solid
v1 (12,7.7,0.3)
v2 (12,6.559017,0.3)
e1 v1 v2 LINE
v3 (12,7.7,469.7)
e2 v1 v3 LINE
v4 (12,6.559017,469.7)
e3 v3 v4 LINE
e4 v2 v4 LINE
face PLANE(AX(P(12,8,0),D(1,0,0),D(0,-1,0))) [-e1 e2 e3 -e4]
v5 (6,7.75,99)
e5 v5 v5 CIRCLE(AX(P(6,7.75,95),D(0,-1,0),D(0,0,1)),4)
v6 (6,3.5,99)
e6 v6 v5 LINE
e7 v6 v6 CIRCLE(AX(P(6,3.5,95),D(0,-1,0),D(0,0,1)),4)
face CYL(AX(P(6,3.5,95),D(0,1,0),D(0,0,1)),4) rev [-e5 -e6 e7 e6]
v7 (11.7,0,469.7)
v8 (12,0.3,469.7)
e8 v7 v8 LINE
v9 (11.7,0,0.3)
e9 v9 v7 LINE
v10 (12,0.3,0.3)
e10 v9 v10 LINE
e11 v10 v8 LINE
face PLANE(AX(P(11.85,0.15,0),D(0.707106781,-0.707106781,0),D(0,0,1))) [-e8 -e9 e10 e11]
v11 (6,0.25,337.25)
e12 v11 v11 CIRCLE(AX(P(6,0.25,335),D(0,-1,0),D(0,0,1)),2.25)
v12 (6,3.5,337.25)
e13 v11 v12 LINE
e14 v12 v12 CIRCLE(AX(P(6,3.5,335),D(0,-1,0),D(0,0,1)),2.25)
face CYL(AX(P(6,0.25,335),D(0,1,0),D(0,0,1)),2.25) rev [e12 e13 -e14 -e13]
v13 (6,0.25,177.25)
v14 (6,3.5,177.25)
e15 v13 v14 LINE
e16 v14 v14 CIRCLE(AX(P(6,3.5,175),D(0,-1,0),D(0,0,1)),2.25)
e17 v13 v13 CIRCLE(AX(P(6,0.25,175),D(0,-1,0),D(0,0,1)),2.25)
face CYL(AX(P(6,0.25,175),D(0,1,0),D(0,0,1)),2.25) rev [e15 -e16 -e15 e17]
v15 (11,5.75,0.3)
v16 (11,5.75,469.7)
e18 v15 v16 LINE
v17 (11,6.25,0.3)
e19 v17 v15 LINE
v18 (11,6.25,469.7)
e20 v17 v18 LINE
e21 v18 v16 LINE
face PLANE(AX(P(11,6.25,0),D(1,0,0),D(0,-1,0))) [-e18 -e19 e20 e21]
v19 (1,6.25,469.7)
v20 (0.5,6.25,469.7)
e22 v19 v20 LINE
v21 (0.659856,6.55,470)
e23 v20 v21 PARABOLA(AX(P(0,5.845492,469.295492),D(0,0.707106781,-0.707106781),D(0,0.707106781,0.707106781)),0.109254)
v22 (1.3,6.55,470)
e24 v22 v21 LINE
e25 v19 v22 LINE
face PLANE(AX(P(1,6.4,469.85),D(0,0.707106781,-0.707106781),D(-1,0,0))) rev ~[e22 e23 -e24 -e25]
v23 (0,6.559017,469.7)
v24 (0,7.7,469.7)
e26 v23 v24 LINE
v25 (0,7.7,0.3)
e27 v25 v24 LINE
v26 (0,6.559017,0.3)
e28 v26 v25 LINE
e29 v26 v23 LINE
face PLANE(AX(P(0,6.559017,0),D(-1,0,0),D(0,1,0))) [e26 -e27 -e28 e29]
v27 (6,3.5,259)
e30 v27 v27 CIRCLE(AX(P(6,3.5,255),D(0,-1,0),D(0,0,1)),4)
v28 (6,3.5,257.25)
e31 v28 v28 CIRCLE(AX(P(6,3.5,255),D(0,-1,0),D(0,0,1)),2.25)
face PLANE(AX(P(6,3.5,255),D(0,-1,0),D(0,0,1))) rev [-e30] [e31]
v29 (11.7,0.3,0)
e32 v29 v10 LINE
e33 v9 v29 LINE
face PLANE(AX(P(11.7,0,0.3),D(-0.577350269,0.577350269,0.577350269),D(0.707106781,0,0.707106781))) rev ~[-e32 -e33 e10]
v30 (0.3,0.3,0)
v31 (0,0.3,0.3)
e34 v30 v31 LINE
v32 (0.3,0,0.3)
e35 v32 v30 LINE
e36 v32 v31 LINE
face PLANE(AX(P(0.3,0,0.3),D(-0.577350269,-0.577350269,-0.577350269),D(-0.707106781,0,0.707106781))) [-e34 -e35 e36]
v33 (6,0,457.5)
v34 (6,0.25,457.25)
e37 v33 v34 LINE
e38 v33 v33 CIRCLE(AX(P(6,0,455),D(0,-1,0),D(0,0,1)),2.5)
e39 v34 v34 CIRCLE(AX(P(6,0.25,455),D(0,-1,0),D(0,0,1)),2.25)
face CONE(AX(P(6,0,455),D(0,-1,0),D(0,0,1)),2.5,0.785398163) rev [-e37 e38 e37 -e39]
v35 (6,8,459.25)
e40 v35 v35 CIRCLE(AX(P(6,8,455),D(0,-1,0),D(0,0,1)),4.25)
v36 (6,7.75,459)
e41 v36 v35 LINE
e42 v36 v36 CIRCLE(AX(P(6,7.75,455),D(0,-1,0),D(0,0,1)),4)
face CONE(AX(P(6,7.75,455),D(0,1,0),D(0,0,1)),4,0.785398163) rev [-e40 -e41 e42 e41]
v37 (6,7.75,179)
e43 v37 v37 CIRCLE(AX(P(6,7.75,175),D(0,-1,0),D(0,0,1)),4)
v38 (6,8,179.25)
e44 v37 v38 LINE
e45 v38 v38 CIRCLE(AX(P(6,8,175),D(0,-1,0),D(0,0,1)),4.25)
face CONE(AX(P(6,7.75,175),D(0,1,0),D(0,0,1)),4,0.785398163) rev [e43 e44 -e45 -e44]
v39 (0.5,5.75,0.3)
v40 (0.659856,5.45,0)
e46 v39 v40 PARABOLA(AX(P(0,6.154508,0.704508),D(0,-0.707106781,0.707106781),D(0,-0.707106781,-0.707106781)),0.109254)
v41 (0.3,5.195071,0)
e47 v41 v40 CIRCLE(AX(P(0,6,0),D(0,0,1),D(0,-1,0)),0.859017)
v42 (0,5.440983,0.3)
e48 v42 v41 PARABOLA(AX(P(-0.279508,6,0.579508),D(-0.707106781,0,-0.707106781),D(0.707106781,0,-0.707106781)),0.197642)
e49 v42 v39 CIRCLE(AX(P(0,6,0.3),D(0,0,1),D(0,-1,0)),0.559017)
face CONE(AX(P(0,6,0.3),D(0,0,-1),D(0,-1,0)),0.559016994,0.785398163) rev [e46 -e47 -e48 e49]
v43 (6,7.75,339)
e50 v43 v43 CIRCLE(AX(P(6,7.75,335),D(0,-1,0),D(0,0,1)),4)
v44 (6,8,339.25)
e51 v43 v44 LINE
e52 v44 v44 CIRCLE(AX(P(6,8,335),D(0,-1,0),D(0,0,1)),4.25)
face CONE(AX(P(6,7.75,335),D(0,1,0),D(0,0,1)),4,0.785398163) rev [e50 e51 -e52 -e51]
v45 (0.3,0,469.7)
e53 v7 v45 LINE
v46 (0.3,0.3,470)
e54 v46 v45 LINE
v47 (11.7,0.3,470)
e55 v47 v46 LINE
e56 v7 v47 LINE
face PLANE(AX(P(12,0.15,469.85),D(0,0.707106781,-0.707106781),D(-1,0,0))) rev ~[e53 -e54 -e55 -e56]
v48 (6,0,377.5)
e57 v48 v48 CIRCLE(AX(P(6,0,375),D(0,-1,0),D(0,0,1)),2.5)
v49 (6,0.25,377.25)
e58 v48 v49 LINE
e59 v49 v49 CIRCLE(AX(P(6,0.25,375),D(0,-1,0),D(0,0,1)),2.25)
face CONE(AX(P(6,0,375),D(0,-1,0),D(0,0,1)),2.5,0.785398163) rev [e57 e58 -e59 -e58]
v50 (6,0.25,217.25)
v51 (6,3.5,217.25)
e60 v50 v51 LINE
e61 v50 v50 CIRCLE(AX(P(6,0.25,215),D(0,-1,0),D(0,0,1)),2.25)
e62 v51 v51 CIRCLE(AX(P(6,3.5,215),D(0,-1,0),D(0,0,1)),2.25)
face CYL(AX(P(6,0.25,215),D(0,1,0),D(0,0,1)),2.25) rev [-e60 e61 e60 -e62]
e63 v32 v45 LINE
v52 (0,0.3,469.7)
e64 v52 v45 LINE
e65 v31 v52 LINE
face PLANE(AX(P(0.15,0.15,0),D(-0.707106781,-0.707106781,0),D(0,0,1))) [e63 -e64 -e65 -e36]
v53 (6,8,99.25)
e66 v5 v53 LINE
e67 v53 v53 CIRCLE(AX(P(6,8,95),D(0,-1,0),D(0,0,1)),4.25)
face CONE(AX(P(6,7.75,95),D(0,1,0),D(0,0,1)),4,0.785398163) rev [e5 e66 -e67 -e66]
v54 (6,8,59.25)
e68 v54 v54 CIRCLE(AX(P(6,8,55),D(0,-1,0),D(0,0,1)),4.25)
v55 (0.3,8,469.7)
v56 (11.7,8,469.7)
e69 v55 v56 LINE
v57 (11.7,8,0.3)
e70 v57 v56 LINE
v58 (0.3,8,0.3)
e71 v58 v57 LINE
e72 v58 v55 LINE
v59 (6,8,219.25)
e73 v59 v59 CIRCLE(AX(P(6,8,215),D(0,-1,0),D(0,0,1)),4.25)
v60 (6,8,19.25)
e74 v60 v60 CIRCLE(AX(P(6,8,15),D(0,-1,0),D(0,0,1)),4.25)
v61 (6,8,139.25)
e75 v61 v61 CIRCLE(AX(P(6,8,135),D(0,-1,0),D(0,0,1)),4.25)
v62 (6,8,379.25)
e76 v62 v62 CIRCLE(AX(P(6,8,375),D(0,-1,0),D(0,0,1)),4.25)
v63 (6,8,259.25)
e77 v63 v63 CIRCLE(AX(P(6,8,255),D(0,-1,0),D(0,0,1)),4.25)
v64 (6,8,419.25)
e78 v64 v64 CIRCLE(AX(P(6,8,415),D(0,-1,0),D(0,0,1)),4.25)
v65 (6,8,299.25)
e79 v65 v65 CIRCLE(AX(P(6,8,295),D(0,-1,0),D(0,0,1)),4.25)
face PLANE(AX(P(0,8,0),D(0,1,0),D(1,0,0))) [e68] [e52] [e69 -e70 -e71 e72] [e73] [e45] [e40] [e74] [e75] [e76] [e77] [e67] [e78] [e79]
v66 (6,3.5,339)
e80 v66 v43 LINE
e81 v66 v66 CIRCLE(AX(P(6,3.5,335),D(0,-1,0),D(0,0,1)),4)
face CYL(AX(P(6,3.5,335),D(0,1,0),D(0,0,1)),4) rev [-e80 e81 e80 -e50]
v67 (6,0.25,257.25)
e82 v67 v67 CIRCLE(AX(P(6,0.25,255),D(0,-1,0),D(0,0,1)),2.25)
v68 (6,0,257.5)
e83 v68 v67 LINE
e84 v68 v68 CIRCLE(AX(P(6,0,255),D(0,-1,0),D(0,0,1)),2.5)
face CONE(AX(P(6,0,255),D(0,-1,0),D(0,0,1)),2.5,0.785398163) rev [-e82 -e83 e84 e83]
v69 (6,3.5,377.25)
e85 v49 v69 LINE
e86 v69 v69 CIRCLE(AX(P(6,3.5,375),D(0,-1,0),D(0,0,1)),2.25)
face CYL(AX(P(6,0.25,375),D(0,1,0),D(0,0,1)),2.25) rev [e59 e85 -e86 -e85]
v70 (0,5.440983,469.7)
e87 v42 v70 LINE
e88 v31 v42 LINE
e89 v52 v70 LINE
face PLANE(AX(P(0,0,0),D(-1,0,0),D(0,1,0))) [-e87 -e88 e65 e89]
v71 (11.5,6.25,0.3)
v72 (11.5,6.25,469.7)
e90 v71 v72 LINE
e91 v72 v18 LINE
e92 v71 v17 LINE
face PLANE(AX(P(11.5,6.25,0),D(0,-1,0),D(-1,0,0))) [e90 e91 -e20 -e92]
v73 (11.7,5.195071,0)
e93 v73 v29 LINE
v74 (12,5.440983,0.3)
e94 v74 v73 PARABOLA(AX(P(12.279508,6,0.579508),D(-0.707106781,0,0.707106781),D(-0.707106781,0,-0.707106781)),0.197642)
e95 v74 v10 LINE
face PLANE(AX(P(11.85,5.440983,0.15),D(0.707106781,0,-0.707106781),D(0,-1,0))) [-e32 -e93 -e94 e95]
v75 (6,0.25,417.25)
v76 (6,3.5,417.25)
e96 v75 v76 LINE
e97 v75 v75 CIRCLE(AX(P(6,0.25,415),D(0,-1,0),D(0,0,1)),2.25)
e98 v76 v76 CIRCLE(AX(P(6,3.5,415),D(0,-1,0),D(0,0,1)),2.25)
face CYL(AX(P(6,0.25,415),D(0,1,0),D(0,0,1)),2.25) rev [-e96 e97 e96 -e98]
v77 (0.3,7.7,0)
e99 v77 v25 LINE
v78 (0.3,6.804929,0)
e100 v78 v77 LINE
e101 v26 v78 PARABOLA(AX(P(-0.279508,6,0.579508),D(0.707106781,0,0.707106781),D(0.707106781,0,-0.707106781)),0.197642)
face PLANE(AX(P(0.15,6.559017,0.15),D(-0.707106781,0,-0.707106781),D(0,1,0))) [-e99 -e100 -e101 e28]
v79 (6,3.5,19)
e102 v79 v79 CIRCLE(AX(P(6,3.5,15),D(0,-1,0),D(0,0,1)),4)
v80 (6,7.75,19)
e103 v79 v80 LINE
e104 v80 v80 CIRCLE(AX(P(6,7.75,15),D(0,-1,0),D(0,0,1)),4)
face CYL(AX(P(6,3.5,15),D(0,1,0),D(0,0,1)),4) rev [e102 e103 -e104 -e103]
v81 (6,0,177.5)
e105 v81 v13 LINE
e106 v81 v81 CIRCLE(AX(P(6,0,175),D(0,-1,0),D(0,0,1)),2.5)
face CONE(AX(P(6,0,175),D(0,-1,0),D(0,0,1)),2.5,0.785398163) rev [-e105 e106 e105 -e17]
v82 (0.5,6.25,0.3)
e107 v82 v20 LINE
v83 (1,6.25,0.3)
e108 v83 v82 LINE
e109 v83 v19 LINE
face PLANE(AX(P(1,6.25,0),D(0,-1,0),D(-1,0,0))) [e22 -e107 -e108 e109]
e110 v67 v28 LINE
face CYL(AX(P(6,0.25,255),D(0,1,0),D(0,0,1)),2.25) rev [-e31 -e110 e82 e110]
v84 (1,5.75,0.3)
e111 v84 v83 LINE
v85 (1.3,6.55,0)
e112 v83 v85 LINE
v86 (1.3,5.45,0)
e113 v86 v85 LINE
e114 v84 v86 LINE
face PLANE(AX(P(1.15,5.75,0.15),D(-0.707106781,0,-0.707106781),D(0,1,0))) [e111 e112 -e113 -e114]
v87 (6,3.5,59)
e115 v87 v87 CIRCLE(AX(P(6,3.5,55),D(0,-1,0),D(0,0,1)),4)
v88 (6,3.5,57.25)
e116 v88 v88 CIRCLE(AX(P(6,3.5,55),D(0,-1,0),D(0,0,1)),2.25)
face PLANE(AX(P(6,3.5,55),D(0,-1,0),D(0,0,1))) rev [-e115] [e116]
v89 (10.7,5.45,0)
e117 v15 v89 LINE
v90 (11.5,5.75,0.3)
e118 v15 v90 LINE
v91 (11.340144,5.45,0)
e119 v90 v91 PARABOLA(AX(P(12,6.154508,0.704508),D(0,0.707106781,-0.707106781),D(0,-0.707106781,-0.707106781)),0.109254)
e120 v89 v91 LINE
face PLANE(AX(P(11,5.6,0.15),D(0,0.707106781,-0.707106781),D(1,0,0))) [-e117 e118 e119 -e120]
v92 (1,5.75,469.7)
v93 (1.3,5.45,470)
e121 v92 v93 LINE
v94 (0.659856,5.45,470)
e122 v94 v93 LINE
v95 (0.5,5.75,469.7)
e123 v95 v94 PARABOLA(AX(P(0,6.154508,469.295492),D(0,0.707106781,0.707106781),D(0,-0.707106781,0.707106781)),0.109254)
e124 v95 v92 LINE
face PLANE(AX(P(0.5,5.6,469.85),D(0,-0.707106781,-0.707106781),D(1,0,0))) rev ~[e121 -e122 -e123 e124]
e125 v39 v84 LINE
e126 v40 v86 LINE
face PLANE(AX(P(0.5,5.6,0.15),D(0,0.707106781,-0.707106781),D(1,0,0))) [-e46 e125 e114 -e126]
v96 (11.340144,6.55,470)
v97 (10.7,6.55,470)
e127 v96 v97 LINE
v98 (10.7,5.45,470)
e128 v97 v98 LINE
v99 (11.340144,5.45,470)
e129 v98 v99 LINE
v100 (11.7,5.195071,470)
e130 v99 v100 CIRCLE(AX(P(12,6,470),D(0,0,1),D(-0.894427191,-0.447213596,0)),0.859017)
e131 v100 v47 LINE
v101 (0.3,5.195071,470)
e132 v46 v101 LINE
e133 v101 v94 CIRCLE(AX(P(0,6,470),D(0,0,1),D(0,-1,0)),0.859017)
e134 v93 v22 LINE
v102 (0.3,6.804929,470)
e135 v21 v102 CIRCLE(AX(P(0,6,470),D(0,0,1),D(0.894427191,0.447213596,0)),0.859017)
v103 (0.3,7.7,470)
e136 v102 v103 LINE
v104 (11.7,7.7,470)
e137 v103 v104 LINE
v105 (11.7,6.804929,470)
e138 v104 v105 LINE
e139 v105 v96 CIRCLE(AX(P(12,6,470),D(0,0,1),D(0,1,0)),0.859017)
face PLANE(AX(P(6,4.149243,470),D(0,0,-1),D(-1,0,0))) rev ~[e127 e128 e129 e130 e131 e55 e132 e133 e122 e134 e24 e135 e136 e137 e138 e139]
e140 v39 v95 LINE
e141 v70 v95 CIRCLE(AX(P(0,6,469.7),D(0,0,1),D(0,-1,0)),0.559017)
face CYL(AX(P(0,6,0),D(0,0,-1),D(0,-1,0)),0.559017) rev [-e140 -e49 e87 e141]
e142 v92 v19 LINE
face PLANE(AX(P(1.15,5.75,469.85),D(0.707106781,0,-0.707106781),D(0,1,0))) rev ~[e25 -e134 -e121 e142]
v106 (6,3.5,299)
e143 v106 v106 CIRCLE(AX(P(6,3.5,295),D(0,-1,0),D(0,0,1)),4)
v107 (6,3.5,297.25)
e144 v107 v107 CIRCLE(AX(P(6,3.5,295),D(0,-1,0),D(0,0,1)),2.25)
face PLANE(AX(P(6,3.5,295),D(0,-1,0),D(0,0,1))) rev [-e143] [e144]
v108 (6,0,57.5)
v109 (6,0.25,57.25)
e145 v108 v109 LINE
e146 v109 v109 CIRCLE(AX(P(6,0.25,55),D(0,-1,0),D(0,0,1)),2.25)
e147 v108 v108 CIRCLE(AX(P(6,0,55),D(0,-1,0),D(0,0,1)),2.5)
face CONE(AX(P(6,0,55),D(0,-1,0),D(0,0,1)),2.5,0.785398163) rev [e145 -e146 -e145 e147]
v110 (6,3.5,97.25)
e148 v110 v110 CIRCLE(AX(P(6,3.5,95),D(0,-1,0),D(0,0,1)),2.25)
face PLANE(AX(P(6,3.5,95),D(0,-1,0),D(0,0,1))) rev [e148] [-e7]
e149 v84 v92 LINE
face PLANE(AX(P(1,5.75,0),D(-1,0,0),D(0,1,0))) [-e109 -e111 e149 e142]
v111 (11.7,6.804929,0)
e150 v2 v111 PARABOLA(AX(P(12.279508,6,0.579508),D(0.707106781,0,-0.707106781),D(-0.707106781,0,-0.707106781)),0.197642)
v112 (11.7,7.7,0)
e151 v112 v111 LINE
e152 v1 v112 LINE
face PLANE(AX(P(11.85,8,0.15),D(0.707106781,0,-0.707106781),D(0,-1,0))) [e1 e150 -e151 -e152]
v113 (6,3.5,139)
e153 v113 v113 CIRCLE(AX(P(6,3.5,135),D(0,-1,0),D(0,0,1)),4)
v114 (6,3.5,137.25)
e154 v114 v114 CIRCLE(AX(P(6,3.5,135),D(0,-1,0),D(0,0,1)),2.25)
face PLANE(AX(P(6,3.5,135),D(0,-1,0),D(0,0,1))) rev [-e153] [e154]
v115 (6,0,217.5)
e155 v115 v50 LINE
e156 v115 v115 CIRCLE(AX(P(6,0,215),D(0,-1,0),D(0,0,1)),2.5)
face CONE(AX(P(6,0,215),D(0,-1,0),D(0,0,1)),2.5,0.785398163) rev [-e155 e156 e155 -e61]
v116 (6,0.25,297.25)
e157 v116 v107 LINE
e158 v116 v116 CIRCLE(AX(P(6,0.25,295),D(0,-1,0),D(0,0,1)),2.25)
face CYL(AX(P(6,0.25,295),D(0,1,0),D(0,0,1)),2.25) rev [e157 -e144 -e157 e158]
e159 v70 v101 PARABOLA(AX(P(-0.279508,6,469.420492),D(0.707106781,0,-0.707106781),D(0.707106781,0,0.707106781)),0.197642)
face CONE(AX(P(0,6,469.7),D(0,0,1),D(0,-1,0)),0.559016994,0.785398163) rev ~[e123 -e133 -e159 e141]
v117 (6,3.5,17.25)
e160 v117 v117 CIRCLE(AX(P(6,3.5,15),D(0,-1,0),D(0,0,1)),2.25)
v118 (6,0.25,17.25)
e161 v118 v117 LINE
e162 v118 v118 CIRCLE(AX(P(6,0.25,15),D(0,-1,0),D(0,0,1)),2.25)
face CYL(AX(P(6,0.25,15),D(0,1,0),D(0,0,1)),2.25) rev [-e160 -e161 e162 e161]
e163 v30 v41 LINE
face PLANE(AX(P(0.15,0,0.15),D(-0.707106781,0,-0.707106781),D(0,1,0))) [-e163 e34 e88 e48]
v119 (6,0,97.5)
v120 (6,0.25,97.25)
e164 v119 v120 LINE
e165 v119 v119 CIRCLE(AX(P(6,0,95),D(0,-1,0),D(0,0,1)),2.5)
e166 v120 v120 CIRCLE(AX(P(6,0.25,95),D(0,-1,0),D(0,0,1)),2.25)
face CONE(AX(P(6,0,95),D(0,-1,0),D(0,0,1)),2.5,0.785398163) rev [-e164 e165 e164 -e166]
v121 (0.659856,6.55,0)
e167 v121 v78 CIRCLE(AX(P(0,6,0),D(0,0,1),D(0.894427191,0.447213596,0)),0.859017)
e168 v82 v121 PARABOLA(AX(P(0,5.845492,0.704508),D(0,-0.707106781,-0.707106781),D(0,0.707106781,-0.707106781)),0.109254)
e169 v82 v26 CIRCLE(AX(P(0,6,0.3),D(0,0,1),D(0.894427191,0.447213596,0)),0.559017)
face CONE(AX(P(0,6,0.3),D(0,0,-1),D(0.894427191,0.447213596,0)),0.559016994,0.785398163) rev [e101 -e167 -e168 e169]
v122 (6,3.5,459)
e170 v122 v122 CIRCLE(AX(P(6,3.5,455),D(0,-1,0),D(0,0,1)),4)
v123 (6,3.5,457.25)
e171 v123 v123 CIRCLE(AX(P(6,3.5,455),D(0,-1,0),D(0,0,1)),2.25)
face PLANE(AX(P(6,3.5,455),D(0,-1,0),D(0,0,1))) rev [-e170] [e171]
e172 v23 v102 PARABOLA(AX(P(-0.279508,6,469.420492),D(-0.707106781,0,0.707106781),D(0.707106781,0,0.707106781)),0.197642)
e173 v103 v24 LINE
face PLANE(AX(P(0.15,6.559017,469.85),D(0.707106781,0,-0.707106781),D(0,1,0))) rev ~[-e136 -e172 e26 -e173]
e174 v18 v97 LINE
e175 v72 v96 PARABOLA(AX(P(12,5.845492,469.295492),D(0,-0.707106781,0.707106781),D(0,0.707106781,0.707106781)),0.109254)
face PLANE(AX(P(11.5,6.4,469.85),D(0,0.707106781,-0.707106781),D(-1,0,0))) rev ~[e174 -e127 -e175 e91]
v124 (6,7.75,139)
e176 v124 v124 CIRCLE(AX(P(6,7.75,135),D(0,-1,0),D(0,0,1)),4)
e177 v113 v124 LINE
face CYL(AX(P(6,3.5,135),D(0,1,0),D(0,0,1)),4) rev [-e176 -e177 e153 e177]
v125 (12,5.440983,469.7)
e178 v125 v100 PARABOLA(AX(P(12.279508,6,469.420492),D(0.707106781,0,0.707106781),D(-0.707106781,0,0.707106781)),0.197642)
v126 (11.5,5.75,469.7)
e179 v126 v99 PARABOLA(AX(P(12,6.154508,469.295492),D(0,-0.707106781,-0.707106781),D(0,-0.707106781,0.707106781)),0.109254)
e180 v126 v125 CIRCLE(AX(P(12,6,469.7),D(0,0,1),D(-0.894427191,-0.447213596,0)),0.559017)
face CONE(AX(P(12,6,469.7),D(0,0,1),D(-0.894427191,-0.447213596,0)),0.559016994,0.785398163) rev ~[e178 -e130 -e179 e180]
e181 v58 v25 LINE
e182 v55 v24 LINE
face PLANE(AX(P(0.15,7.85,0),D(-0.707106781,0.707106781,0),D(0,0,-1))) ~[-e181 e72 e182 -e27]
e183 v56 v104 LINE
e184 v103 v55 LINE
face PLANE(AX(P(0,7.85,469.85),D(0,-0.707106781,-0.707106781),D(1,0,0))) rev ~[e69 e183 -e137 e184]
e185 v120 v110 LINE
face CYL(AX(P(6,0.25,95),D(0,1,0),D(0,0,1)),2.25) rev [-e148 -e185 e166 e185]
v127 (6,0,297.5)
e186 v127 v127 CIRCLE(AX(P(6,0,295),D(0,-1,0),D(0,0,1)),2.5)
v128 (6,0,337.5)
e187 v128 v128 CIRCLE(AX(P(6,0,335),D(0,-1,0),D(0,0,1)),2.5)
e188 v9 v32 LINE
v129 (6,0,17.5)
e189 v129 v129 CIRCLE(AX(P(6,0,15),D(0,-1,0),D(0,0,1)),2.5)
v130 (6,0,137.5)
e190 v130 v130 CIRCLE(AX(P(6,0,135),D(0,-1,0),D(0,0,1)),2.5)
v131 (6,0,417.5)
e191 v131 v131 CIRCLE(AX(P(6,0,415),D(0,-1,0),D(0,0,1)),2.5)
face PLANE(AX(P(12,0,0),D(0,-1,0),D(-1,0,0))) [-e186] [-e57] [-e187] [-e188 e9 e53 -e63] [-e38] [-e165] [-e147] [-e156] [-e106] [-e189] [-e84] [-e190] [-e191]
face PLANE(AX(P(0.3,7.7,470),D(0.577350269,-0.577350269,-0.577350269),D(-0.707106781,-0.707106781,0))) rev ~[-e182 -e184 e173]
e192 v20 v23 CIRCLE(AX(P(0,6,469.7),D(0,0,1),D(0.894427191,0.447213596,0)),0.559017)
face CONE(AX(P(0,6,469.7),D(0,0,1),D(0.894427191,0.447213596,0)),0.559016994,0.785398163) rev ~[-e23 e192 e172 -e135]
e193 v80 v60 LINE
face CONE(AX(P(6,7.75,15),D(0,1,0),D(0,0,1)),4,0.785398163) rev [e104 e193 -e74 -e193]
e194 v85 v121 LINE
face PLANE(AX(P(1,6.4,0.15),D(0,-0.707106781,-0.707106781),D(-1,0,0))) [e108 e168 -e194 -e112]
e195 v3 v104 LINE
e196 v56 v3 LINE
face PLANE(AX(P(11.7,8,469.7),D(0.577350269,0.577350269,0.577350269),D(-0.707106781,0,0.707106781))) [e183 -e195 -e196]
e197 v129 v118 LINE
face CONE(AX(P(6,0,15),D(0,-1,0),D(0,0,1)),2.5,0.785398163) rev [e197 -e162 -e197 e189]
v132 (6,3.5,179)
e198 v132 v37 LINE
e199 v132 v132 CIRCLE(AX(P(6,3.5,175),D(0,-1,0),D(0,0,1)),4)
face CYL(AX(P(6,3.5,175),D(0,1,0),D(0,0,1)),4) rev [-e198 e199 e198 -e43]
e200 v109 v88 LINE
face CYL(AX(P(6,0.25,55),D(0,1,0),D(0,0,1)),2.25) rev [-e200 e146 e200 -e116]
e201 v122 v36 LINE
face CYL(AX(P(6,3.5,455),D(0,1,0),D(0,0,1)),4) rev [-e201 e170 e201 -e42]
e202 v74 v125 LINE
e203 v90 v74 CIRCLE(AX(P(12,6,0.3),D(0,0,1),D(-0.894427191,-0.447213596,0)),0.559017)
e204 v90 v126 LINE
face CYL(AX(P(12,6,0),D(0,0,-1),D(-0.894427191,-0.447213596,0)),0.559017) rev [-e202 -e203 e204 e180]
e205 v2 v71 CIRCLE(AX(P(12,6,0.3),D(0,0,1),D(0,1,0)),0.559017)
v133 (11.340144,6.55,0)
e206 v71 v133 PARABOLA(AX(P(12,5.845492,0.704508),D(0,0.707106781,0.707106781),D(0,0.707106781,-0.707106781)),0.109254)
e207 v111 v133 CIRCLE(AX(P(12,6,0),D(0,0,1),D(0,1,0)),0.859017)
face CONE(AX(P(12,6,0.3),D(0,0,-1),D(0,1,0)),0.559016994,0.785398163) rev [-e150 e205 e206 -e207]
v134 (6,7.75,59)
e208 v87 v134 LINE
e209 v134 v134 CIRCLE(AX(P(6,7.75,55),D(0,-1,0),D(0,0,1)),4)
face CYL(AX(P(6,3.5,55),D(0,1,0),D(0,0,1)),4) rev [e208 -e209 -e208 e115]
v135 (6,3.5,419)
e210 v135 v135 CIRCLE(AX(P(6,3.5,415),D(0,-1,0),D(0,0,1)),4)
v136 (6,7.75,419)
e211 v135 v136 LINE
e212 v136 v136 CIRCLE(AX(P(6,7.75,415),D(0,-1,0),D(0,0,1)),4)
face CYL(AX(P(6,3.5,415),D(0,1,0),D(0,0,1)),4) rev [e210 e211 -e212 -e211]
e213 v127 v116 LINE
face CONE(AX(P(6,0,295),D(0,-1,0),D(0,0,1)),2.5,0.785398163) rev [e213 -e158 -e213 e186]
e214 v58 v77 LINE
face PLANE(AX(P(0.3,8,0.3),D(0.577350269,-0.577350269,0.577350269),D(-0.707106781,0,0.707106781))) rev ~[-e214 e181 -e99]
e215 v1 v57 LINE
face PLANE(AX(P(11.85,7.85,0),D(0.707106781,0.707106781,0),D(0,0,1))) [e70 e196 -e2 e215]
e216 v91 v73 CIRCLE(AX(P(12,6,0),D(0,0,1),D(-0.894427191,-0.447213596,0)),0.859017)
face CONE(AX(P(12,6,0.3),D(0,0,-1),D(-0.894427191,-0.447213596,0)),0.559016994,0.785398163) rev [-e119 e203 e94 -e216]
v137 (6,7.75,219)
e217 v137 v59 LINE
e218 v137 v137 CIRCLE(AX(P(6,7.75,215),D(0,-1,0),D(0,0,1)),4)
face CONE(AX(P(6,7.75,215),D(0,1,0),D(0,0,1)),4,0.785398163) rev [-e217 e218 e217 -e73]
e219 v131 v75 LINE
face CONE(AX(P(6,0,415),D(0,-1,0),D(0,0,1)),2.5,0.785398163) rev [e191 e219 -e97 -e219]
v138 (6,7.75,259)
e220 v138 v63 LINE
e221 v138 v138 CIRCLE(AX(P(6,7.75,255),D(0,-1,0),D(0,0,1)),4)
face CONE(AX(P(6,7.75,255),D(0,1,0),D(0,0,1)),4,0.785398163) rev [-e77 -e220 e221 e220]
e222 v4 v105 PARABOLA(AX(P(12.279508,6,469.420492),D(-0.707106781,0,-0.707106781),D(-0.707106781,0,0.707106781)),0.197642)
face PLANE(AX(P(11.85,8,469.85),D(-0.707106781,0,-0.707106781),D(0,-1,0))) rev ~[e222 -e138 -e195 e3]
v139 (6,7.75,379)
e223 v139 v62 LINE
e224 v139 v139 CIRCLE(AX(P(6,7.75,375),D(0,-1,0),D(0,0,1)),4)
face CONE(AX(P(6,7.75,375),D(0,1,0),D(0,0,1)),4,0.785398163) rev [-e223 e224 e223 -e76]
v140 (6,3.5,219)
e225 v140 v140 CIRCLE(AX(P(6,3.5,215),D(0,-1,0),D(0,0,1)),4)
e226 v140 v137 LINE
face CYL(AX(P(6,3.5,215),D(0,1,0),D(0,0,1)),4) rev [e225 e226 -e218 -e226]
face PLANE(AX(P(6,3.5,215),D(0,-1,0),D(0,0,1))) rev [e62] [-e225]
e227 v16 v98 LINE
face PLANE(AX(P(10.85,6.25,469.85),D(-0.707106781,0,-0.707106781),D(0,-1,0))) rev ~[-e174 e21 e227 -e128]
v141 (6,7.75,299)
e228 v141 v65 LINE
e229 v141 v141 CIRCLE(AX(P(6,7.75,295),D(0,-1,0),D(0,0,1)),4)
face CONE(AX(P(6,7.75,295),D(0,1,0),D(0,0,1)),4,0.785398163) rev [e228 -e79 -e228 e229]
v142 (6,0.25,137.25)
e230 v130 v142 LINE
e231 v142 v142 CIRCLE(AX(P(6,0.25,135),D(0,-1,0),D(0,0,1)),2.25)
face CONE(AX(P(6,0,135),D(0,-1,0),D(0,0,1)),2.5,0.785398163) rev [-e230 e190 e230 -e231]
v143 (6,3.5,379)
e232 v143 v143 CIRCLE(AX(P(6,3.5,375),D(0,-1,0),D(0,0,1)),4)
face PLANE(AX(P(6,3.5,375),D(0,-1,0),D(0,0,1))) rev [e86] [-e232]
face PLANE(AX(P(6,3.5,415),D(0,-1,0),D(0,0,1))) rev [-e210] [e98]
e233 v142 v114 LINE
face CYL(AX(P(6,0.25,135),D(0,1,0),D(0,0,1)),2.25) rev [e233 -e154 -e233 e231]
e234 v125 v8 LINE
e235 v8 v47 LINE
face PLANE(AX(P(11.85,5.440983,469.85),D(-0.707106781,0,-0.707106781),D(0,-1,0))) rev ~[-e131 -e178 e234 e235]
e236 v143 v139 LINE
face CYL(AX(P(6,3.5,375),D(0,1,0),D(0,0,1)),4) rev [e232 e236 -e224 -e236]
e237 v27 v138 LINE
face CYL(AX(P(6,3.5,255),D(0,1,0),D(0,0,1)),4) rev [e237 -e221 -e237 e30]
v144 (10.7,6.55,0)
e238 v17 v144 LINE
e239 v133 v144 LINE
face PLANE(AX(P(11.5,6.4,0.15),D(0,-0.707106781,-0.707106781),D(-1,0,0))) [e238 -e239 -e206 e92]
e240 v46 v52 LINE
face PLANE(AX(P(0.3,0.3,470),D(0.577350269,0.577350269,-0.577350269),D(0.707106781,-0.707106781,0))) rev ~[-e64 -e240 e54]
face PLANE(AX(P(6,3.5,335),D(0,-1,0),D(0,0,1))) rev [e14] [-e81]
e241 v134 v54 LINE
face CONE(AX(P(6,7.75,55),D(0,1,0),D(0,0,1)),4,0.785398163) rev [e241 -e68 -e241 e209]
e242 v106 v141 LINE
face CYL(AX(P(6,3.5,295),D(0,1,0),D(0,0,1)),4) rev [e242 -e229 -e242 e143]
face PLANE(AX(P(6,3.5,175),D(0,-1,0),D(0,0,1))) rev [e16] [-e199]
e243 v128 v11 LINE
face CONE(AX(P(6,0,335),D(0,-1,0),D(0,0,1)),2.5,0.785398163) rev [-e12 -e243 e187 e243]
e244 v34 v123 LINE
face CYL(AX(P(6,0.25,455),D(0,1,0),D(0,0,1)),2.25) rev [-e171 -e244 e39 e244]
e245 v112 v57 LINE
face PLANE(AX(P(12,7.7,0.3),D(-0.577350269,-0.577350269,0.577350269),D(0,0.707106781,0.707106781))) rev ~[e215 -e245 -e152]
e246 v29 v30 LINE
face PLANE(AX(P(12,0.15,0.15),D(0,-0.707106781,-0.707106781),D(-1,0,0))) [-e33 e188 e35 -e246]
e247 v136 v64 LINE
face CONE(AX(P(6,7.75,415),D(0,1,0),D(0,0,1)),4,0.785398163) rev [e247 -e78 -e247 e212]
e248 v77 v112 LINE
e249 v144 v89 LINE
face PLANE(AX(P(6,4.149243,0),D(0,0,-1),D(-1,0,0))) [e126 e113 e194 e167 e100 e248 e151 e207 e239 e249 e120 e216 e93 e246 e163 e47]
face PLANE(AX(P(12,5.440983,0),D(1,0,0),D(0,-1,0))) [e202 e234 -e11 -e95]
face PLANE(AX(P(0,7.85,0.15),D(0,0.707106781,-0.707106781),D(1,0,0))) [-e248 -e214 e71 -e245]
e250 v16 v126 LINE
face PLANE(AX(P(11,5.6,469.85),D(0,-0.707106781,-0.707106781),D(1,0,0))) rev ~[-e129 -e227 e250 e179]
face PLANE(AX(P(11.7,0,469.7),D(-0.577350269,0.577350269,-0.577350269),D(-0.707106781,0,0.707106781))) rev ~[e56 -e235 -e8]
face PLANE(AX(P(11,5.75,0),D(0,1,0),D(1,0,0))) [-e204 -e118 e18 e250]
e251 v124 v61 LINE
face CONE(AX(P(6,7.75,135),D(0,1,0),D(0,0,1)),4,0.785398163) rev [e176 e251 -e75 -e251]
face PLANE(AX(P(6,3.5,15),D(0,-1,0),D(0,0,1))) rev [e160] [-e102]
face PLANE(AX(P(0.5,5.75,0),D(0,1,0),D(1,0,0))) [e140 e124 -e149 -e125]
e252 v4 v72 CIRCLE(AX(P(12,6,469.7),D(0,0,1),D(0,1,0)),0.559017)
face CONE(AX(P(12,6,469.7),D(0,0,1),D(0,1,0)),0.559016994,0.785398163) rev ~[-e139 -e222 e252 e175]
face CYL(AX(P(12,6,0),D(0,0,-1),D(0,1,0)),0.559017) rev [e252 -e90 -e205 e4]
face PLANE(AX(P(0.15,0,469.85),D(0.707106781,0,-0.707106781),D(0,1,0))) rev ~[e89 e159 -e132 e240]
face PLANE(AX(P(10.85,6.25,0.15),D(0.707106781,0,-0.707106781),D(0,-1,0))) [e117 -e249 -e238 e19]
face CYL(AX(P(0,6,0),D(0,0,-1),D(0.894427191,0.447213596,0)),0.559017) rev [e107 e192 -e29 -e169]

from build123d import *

# Parameters (mm, degrees)
BOSS_EXTRUDE1_DEPTH = 470
CHAMFER1_SIZE       = 0.3
LPATTERN1_COUNT     = 12
LPATTERN1_PITCH     = 40


with BuildPart() as part:
    # Sketch1 → Boss-Extrude1 (new body)
    with BuildSketch(Plane.XY):
        with BuildLine():
            Line((0, 8), (12, 8))
            Line((12, 8), (12, 6.75))
            Line((12, 6.75), (12, 6.559016994))
            ThreePointArc((12, 6.559016994), (11.706107374, 6.475528258), (11.5, 6.25))
            Line((11.5, 6.25), (11, 6.25))
            Line((11, 6.25), (11, 5.75))
            Line((11, 5.75), (11.5, 5.75))
            ThreePointArc((11.5, 5.75), (11.706107374, 5.524471742), (12, 5.440983006))
            Line((12, 5.440983006), (12, 5.25))
            Line((12, 5.25), (12, 0))
            Line((12, 0), (0, 0))
            Line((0, 0), (0, 5.25))
            Line((0, 5.25), (0, 5.440983006))
            ThreePointArc((0, 5.440983006), (0.293892626, 5.524471742), (0.5, 5.75))
            Line((0.5, 5.75), (1, 5.75))
            Line((1, 5.75), (1, 6.25))
            Line((1, 6.25), (0.5, 6.25))
            ThreePointArc((0.5, 6.25), (0.293892626, 6.475528258), (0, 6.559016994))
            Line((0, 6.559016994), (0, 6.75))
            Line((0, 6.75), (0, 8))
        make_face()
    extrude(amount=BOSS_EXTRUDE1_DEPTH)

    # Chamfer1
    chamfer1_edges = [part.edges().sort_by_distance(p)[0] for p in [
        (12, 2.720491503, 470),
        (11.706107374, 5.524471742, 470),
        (0, 2.720491503, 0),
        (0.293892626, 5.524471742, 0),
        (0.75, 5.75, 0),
        (1, 6, 0),
        (0.75, 6.25, 0),
        (11.25, 5.75, 470),
        (0.293892626, 6.475528258, 0),
        (0, 7.279508497, 0),
        (6, 8, 0),
        (12, 7.279508497, 0),
        (11.706107374, 6.475528258, 0),
        (11, 6, 470),
        (11.25, 6.25, 0),
        (11, 6, 0),
        (11.25, 5.75, 0),
        (11.706107374, 5.524471742, 0),
        (12, 2.720491503, 0),
        (6, 0, 0),
        (11.25, 6.25, 470),
        (11.706107374, 6.475528258, 470),
        (12, 7.279508497, 470),
        (0, 8, 235),
        (12, 8, 235),
        (12, 0, 235),
        (0, 0, 235),
        (6, 8, 470),
        (0, 2.720491503, 470),
        (0, 7.279508497, 470),
        (0.293892626, 6.475528258, 470),
        (0.75, 6.25, 470),
        (1, 6, 470),
        (0.75, 5.75, 470),
        (0.293892626, 5.524471742, 470),
        (6, 0, 470),
    ]]
    chamfer(chamfer1_edges, length=CHAMFER1_SIZE)

    # Sketch3 → CBORE for M5 Hex Head Bolt1 (revolve, cut)
    with BuildSketch(Plane(origin=(6, 8, 15), x_dir=(0, 0, 1), z_dir=(1, 0, 0))):
        Polygon((0, 0), (0, 8), (2.5, 8), (2.25, 7.75), (2.25, 4.5), (4, 4.5), (4, 0.25), (4.25, 0), align=None)
    cbore_for_m5_hex_head_bolt1 = revolve(axis=Axis((6, 14.35, 15), (0, -1, 0)), mode=Mode.SUBTRACT)

    # LPattern1: CBORE for M5 Hex Head Bolt1 ×12
    with Locations(*[(0, 0, i * LPATTERN1_PITCH) for i in range(1, LPATTERN1_COUNT)]):
        add(cbore_for_m5_hex_head_bolt1, mode=Mode.SUBTRACT)


solid = part.part
